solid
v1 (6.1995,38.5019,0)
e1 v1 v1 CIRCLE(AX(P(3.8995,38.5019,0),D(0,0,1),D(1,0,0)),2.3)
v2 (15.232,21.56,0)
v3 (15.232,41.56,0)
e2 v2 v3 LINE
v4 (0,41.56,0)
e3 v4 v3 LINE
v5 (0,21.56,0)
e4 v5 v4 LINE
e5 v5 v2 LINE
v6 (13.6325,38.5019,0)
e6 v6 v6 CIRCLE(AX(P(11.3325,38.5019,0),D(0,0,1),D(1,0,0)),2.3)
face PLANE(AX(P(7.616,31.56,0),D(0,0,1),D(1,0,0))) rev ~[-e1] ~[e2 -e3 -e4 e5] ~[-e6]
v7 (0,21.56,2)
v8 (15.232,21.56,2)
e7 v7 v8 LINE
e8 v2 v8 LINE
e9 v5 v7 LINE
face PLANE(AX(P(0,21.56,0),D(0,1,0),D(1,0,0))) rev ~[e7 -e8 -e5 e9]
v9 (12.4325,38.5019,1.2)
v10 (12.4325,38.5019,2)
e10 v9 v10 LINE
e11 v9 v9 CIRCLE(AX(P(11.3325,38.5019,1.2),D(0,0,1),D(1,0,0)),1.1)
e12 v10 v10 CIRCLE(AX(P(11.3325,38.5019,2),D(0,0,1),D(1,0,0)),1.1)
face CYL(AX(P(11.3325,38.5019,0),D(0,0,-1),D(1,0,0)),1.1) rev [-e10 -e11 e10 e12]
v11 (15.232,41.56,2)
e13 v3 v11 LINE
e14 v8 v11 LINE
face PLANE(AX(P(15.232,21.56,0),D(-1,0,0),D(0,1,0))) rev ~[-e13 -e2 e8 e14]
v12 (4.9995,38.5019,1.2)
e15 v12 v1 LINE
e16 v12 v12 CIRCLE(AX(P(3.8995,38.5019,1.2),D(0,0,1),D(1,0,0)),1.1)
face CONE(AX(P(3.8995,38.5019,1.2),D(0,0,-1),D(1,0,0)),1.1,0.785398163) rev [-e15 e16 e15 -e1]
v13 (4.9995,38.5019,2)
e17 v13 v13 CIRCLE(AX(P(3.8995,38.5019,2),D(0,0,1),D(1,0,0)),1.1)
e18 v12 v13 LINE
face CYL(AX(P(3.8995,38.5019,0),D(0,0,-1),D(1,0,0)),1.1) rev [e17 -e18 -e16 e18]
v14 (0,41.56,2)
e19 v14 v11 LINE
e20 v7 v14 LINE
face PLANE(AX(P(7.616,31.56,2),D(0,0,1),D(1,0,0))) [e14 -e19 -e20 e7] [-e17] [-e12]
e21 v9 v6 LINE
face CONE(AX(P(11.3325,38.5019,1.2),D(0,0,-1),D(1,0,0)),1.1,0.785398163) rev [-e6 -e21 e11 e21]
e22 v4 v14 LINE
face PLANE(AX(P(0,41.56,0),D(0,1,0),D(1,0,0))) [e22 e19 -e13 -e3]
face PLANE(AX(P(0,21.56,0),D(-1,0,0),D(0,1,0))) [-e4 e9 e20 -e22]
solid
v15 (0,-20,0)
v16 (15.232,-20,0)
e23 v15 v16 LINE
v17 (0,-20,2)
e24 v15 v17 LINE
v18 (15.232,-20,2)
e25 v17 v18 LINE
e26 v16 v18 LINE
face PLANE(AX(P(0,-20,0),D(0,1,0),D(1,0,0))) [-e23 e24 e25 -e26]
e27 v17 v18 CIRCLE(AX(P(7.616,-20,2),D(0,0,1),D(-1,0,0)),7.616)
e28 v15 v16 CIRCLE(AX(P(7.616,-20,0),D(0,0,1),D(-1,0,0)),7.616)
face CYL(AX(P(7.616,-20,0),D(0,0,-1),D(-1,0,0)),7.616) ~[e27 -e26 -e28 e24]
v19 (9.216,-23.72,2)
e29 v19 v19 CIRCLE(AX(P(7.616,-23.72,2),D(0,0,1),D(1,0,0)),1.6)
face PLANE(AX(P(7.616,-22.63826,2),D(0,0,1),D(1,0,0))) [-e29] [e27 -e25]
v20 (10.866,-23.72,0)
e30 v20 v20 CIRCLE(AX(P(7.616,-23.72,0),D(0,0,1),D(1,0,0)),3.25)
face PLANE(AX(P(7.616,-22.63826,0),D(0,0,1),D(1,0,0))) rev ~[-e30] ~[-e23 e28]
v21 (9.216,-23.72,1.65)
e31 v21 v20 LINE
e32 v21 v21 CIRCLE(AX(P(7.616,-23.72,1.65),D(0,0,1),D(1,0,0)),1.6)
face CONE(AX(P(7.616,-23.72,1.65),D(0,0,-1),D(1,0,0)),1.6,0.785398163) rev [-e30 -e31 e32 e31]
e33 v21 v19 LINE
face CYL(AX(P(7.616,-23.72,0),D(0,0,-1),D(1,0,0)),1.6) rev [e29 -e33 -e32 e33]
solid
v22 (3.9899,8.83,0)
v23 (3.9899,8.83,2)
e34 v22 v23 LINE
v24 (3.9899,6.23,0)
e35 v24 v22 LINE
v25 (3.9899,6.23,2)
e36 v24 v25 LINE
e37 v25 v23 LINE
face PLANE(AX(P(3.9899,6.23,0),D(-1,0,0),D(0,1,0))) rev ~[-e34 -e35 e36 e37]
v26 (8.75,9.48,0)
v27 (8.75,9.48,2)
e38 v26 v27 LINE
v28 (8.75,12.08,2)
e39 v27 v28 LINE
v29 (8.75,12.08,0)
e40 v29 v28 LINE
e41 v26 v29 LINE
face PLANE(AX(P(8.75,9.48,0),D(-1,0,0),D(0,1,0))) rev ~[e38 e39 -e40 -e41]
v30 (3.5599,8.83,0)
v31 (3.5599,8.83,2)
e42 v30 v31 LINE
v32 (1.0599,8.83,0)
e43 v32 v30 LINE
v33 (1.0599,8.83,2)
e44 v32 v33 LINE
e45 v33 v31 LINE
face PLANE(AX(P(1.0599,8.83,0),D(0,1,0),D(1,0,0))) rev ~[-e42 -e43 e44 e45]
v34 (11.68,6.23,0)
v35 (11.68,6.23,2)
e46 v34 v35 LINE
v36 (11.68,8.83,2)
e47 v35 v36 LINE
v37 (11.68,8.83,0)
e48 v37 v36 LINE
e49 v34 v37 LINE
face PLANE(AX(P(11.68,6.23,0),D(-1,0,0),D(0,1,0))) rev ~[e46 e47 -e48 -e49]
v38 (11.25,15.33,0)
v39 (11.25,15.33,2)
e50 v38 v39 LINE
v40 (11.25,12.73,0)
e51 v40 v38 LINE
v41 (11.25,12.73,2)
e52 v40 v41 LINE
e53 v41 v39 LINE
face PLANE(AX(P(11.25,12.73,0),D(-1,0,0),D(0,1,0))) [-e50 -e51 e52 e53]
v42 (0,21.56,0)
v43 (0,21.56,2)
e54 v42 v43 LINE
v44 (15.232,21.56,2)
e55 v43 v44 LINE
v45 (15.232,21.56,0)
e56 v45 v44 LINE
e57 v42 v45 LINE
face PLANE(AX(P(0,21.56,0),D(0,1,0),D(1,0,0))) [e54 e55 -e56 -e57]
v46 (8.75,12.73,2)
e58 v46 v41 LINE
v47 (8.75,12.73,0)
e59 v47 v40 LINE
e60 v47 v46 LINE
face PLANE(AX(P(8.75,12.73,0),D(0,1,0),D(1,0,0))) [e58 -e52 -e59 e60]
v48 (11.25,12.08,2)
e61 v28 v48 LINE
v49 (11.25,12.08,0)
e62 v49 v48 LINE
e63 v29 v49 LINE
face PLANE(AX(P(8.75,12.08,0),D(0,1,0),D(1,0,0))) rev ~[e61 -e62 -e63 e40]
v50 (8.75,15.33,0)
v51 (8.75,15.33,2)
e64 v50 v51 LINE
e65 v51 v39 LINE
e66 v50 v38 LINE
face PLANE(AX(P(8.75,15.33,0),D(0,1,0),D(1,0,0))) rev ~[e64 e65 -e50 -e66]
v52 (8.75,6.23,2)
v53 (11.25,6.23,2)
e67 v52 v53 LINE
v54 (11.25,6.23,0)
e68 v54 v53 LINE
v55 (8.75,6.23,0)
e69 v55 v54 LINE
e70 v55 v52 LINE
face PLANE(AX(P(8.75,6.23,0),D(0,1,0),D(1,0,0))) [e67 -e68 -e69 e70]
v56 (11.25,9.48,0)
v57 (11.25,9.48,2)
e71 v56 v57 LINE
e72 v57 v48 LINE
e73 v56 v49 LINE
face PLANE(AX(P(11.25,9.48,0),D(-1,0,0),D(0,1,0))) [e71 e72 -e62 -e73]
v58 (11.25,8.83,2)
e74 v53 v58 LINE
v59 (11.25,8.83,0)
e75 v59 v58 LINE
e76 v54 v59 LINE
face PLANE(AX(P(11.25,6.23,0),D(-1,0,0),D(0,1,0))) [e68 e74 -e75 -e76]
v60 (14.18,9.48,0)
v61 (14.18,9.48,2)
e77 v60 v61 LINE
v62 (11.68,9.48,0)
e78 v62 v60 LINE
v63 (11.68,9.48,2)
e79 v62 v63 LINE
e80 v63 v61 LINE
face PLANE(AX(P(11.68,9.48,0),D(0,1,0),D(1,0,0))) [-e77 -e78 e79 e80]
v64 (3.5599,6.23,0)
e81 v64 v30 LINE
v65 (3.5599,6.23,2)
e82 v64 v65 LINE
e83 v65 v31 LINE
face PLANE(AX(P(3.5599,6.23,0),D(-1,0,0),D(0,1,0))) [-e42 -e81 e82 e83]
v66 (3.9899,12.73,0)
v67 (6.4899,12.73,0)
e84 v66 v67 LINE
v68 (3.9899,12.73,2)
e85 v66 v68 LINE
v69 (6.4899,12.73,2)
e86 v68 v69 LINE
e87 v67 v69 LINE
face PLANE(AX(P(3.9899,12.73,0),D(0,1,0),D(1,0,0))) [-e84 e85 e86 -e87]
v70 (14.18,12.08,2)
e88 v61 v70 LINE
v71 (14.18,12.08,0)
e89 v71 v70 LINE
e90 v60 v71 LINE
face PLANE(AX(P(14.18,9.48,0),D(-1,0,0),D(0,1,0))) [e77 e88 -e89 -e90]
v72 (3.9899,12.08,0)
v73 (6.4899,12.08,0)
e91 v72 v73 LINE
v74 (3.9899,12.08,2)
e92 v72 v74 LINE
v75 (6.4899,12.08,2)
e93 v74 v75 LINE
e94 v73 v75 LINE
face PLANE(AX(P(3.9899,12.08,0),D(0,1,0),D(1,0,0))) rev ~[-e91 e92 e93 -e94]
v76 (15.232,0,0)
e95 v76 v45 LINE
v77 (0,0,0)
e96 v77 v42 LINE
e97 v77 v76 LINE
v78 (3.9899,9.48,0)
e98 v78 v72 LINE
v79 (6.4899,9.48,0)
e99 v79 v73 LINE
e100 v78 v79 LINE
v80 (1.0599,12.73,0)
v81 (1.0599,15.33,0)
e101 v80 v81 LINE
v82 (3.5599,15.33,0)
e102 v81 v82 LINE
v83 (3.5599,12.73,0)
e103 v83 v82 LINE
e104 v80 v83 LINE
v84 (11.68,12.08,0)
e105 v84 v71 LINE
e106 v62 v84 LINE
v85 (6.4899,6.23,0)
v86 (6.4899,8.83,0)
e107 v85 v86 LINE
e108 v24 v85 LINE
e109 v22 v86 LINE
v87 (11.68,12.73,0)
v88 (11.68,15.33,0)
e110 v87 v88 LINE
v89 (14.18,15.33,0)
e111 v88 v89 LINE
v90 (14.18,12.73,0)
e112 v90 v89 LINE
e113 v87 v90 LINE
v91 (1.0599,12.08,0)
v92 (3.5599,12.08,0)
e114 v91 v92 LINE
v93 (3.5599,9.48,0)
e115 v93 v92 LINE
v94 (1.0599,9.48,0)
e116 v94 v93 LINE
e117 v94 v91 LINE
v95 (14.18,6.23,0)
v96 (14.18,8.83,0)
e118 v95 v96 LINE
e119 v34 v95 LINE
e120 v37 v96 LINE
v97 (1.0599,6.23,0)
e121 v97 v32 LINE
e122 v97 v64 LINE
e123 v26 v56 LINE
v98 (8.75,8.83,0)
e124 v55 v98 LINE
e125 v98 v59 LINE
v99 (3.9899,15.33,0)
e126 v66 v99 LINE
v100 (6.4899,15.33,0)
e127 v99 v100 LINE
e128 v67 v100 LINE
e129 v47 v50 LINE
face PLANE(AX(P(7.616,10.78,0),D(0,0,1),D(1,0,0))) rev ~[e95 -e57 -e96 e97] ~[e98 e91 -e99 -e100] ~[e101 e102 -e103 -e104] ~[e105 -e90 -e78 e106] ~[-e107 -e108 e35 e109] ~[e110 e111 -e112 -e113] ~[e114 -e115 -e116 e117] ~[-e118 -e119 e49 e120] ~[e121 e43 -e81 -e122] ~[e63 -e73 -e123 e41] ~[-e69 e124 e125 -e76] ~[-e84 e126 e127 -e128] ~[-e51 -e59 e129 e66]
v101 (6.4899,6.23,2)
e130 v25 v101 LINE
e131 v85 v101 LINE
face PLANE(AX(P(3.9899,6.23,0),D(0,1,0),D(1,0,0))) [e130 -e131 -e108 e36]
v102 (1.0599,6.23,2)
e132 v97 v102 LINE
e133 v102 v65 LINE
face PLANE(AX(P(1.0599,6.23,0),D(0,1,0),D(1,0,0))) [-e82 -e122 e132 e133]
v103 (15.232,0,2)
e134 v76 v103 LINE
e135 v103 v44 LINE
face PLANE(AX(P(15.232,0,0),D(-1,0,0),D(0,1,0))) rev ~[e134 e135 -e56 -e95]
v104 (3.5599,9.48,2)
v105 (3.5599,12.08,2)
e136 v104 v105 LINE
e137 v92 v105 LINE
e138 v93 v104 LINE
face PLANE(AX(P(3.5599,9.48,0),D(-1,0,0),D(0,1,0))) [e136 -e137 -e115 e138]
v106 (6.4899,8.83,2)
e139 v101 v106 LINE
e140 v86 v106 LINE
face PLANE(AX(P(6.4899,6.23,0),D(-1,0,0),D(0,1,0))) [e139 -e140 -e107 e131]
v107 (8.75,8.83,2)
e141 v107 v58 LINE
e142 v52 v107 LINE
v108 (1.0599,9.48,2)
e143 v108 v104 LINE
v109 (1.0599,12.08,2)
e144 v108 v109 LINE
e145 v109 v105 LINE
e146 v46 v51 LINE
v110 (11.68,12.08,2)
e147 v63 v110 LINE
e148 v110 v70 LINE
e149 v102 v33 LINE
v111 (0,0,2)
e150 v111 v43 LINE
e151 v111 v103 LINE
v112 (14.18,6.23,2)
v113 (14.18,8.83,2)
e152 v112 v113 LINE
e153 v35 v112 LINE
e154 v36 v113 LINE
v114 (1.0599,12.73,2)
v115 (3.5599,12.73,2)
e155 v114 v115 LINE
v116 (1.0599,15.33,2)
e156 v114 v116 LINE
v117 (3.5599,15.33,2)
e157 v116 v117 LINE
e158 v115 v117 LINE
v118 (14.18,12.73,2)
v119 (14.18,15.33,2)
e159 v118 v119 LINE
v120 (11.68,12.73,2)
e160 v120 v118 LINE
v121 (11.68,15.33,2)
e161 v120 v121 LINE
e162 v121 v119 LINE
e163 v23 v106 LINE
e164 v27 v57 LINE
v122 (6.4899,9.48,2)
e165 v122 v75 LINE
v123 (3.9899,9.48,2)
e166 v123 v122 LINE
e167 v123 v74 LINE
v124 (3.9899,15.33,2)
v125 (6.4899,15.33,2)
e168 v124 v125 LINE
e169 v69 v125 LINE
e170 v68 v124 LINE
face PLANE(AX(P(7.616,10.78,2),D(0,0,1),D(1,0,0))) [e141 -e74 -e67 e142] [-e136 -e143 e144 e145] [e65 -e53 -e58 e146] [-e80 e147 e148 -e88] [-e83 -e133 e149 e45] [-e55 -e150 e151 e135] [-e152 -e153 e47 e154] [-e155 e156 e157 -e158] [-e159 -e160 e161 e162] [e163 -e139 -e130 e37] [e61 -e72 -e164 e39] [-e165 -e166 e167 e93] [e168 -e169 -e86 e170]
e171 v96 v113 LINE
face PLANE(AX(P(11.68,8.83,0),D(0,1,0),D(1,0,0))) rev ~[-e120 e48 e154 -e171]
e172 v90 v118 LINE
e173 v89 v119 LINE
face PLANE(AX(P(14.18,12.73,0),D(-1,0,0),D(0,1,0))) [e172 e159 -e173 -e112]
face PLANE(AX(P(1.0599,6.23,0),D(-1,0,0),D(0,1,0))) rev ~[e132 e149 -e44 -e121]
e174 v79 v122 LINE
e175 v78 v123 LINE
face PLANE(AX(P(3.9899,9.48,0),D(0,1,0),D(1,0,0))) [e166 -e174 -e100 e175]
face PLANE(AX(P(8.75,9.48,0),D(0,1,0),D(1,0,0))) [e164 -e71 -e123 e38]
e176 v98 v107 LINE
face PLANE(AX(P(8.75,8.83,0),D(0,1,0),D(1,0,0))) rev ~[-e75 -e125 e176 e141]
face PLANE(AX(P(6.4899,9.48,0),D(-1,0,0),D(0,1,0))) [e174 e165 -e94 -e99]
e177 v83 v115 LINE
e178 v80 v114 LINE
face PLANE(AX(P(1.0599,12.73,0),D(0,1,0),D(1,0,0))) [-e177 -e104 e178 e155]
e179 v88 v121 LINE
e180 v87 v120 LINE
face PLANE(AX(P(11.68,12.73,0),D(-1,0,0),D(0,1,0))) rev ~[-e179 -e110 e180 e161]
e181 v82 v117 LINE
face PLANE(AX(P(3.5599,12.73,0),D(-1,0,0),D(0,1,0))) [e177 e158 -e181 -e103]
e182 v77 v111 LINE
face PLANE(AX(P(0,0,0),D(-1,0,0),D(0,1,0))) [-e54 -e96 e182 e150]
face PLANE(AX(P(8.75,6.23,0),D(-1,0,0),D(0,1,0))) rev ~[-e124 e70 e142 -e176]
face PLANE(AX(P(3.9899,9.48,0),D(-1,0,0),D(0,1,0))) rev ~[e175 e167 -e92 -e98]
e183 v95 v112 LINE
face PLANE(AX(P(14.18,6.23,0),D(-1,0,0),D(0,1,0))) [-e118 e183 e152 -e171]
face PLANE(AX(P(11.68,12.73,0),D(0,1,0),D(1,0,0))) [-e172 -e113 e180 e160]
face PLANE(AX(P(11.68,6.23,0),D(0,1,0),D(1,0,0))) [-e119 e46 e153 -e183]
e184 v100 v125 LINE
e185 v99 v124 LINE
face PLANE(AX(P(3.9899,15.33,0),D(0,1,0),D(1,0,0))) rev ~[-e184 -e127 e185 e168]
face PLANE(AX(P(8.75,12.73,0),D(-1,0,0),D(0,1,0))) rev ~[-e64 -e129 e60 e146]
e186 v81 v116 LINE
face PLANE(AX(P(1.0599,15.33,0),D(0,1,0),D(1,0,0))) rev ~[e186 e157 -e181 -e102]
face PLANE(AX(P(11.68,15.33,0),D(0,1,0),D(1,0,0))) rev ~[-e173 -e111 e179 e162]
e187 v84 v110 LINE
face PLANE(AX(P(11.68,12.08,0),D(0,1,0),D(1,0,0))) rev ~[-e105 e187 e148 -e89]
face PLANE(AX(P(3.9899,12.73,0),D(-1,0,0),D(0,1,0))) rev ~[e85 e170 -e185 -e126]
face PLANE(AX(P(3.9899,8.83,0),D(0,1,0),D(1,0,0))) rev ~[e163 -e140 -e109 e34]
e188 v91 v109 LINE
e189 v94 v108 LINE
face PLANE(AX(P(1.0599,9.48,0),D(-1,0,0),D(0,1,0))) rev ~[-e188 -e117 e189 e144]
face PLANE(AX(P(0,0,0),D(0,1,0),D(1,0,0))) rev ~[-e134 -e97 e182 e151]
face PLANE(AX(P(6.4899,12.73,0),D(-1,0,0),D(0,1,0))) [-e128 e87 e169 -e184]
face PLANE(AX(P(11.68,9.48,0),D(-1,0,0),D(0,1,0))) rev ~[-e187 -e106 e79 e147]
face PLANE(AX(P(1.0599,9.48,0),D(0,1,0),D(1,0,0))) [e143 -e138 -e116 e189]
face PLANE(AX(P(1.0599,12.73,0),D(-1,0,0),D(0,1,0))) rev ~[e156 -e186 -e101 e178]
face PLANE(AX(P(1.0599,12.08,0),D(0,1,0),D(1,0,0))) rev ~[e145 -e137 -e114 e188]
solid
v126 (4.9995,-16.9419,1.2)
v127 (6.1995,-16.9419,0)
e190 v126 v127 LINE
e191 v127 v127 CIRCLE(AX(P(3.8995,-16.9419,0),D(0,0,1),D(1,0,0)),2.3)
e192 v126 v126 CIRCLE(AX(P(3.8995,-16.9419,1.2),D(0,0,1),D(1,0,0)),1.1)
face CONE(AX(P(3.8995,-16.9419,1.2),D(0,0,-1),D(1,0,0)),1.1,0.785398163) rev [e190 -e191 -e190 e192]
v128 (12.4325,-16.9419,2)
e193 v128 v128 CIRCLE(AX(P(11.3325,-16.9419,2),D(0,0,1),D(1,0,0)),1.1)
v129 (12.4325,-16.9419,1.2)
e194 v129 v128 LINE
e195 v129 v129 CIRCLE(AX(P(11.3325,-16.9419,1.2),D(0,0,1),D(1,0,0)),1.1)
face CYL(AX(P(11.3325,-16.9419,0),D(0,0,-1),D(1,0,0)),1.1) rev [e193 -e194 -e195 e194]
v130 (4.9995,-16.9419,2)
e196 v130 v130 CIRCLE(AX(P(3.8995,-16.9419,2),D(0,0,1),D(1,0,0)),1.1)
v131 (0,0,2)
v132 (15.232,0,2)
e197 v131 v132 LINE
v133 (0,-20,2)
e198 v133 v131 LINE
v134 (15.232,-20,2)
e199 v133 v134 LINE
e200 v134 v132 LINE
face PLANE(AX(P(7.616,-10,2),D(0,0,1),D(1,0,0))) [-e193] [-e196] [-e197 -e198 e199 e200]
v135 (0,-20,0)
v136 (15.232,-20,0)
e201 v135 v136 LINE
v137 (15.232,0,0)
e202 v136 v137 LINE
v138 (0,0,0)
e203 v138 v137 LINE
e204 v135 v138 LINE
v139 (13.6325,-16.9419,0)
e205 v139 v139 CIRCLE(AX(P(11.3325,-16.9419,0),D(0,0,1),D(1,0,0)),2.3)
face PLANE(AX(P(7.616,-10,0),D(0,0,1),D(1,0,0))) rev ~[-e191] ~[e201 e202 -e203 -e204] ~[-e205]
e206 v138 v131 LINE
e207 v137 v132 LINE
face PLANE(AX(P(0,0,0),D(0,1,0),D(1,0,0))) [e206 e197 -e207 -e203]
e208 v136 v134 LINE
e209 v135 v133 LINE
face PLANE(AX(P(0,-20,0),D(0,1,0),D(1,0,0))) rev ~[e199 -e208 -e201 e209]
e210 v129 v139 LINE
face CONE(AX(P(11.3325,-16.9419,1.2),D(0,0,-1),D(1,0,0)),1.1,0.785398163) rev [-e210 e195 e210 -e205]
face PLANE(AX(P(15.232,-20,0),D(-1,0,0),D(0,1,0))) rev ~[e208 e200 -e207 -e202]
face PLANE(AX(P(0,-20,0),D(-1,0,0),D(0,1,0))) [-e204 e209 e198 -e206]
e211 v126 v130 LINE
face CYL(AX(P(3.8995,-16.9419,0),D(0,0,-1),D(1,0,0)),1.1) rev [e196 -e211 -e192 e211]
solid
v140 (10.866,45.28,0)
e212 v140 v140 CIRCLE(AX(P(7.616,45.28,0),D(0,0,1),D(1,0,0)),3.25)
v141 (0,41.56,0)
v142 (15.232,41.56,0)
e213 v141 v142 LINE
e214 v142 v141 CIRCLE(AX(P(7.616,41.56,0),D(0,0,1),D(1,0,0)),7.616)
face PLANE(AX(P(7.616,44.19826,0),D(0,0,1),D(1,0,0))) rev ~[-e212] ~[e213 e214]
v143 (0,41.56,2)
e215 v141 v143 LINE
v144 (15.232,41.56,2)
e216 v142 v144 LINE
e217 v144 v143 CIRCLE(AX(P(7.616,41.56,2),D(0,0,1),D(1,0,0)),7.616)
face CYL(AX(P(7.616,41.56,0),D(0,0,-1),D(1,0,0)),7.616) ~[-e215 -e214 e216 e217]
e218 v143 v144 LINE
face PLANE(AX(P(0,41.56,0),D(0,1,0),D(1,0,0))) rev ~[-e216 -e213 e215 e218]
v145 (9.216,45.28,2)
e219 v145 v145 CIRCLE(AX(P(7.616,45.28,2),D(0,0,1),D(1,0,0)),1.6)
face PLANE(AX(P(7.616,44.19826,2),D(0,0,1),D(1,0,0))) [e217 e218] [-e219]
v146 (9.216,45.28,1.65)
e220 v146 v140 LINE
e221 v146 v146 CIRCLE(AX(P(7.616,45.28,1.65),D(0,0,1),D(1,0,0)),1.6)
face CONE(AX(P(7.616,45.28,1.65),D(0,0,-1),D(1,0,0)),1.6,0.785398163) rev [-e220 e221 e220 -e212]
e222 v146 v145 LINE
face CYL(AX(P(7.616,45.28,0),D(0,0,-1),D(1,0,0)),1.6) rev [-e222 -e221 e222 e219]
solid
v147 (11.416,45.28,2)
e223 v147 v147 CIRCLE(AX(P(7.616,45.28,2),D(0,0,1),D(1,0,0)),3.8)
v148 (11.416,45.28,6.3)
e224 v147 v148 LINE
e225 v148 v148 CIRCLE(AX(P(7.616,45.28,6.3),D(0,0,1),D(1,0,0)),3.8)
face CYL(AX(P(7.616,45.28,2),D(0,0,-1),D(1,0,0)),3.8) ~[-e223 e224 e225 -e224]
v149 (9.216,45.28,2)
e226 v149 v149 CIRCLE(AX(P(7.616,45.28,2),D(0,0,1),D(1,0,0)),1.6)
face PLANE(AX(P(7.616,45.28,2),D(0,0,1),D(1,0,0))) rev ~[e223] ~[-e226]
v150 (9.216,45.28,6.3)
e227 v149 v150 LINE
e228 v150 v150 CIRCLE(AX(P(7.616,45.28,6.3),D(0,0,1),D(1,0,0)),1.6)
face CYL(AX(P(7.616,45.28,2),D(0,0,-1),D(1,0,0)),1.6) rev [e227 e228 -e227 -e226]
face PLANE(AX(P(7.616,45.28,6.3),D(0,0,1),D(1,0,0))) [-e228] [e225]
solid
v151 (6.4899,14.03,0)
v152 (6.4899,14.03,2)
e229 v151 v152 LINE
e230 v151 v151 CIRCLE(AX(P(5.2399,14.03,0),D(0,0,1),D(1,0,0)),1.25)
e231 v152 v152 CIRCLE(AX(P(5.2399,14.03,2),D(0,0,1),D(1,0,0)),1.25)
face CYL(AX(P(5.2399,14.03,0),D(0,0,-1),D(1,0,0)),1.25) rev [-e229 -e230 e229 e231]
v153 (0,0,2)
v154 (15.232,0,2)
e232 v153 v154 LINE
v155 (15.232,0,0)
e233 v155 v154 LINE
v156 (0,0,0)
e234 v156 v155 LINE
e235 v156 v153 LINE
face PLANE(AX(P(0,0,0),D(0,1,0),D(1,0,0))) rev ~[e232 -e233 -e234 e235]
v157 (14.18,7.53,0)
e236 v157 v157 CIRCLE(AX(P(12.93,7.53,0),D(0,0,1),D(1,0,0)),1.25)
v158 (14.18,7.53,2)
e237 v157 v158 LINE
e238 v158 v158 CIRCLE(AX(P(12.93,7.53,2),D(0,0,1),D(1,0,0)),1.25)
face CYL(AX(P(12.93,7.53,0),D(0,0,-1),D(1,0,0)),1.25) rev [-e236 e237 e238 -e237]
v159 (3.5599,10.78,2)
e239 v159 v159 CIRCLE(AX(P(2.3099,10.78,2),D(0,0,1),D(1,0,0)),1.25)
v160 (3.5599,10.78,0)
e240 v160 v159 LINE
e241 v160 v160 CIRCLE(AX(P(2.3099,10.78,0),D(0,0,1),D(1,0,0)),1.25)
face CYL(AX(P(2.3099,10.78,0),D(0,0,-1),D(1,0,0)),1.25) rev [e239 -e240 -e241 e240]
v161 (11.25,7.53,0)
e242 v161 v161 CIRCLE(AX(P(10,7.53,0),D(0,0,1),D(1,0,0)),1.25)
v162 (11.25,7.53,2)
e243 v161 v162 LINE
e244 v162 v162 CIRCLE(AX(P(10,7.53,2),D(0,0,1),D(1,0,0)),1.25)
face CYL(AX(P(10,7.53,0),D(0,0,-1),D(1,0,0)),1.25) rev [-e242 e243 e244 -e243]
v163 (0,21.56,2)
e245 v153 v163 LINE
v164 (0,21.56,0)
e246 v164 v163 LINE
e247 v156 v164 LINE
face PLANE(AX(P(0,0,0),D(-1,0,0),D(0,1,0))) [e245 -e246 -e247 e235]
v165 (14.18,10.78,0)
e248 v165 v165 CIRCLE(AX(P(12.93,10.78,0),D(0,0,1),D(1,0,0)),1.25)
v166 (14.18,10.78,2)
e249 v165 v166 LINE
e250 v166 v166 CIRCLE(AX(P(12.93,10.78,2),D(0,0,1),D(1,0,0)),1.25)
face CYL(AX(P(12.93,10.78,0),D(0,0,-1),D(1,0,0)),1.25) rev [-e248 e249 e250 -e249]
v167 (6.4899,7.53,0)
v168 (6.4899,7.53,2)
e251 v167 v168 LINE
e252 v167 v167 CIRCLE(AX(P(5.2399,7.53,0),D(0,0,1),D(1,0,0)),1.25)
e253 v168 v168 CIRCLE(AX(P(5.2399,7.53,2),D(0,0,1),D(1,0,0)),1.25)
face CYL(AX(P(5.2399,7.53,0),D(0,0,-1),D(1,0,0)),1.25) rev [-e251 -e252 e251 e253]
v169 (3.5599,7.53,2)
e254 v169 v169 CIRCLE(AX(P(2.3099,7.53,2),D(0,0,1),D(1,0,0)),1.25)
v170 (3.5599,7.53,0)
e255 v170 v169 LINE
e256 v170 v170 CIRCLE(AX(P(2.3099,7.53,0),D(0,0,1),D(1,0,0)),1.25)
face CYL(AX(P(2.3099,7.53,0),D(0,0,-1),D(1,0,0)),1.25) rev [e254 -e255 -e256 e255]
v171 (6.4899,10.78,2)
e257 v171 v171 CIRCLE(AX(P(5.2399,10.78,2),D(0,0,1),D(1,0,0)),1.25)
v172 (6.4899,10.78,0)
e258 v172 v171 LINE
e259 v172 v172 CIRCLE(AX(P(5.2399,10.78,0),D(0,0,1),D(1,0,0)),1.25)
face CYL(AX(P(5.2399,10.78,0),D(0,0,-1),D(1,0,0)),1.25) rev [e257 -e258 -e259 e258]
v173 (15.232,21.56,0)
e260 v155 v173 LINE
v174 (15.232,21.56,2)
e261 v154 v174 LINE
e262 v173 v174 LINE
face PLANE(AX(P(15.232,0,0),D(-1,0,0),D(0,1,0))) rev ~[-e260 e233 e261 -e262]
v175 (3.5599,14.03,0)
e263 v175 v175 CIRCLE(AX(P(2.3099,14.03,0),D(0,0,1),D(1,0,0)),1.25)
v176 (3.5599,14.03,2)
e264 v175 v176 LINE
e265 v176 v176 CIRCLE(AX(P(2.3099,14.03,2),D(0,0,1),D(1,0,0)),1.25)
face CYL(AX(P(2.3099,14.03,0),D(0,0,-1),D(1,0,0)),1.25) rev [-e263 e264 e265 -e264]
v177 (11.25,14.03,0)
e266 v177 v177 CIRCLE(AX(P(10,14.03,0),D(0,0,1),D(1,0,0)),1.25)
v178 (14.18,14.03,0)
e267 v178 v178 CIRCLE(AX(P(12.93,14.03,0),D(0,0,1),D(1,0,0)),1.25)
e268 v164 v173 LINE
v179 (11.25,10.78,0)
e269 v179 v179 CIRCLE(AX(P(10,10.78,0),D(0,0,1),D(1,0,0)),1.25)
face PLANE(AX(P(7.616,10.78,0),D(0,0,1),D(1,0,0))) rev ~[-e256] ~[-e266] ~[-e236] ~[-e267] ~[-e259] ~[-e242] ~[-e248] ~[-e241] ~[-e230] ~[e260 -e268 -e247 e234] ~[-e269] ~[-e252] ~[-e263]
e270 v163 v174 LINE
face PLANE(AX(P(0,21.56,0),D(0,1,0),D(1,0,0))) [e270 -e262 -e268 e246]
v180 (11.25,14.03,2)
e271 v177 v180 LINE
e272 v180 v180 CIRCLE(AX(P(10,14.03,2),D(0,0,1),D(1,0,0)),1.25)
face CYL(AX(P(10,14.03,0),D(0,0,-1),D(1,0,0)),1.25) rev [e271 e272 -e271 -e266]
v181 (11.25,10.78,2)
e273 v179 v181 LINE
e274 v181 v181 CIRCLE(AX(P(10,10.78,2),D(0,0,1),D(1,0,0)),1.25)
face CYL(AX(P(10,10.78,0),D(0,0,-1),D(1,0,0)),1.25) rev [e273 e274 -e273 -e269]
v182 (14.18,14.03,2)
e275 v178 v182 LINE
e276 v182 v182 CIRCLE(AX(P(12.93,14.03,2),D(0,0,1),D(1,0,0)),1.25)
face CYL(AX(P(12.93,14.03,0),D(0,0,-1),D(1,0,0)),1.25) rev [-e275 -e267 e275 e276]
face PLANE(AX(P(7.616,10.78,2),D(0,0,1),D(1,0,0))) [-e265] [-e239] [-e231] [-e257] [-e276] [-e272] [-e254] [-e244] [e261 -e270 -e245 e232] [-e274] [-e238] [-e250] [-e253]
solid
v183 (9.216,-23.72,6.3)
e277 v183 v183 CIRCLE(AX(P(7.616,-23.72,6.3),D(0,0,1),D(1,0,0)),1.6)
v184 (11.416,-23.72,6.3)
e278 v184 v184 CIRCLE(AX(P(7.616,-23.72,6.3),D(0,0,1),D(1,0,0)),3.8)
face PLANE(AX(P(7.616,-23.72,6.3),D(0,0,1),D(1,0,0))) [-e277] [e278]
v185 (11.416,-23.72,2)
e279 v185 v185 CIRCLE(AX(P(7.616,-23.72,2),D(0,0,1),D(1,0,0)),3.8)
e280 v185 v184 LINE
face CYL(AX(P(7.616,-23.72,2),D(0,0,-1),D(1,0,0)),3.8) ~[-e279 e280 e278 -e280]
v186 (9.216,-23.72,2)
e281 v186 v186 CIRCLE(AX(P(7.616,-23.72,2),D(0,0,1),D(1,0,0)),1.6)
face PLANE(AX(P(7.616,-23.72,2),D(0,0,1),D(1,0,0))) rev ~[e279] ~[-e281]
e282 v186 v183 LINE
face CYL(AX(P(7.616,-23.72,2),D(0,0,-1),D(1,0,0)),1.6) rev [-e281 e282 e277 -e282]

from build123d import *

# Parameters (mm, degrees)
SKETCH004_W     = 15.232
SKETCH004_H     = 21.56
SKETCH004_R     = 1.25
PAD002_DEPTH    = 2
SKETCH001_W     = 15.232
SKETCH001_H     = 20
SKETCH001_R     = 1.1
PAD001_DEPTH    = 2
CHAMFER002_SIZE = 1.2
SKETCH002_R     = 1.6
PAD_DEPTH       = 2
CHAMFER_SIZE    = 1.65
CHAMFER003_SIZE = 1.65
SKETCH005_W     = 15.232
SKETCH005_H     = 21.56
SKETCH005_W_2   = 2.5
SKETCH005_H_2   = 2.6
PAD003_DEPTH    = 2
SKETCH_R        = 3.8
SKETCH_R_2      = 1.6
PAD004_DEPTH    = 4.3


with BuildPart() as pad002:
    # Sketch004 → Pad002 (new body)
    with BuildSketch(Plane.XY):
        with Locations((7.616, 10.78)):
            Rectangle(SKETCH004_W, SKETCH004_H)
        with Locations((2.3099, 7.53)):
            Circle(SKETCH004_R, mode=Mode.SUBTRACT)
        with Locations((2.3099, 14.03)):
            Circle(SKETCH004_R, mode=Mode.SUBTRACT)
        with Locations((2.3099, 10.78)):
            Circle(SKETCH004_R, mode=Mode.SUBTRACT)
        with Locations((5.2399, 14.03)):
            Circle(SKETCH004_R, mode=Mode.SUBTRACT)
        with Locations((5.2399, 10.78)):
            Circle(SKETCH004_R, mode=Mode.SUBTRACT)
        with Locations((5.2399, 7.53)):
            Circle(SKETCH004_R, mode=Mode.SUBTRACT)
        with Locations((10, 14.03)):
            Circle(SKETCH004_R, mode=Mode.SUBTRACT)
        with Locations((10, 10.78)):
            Circle(SKETCH004_R, mode=Mode.SUBTRACT)
        with Locations((10, 7.53)):
            Circle(SKETCH004_R, mode=Mode.SUBTRACT)
        with Locations((12.93, 7.53)):
            Circle(SKETCH004_R, mode=Mode.SUBTRACT)
        with Locations((12.93, 10.78)):
            Circle(SKETCH004_R, mode=Mode.SUBTRACT)
        with Locations((12.93, 14.03)):
            Circle(SKETCH004_R, mode=Mode.SUBTRACT)
    extrude(amount=PAD002_DEPTH)


with BuildPart() as chamfer002:
    # Sketch001 → Pad001 (new body)
    with BuildSketch(Plane.XY):
        with Locations((7.616, -10)):
            Rectangle(SKETCH001_W, SKETCH001_H)
        with Locations((3.8995, -16.9419)):
            Circle(SKETCH001_R, mode=Mode.SUBTRACT)
        with Locations((11.3325, -16.9419)):
            Circle(SKETCH001_R, mode=Mode.SUBTRACT)
        with Locations((7.616, 31.56)):
            Rectangle(SKETCH001_W, SKETCH001_H)
        with Locations((3.8995, 38.5019)):
            Circle(SKETCH001_R, mode=Mode.SUBTRACT)
        with Locations((11.3325, 38.5019)):
            Circle(SKETCH001_R, mode=Mode.SUBTRACT)
    extrude(amount=PAD001_DEPTH)

    # Chamfer002
    chamfer002_edges = [chamfer002.edges().sort_by_distance(p)[0] for p in [
        (10.2325, -16.9419, 0),
        (2.7995, -16.9419, 0),
        (10.2325, 38.5019, 0),
        (2.7995, 38.5019, 0),
    ]]
    chamfer(chamfer002_edges, length=CHAMFER002_SIZE)


with BuildPart() as chamfer003:
    # Sketch002 → Pad (new body)
    with BuildSketch(Plane.XY):
        with BuildLine():
            ThreePointArc((15.232, 41.56), (7.616, 49.176), (0, 41.56))
            Line((0, 41.56), (15.232, 41.56))
        make_face()
        with Locations((7.616, 45.28)):
            Circle(SKETCH002_R, mode=Mode.SUBTRACT)
        with BuildLine():
            ThreePointArc((0, -20), (7.616, -27.616), (15.232, -20))
            Line((0, -20), (15.232, -20))
        make_face()
        with Locations((7.616, -23.72)):
            Circle(SKETCH002_R, mode=Mode.SUBTRACT)
    extrude(amount=PAD_DEPTH)

    # Chamfer
    chamfer_edges = [chamfer003.edges().sort_by_distance(p)[0] for p in [
        (6.016, 45.28, 0),
    ]]
    chamfer(chamfer_edges, length=CHAMFER_SIZE)

    # Chamfer003
    chamfer003_edges = [chamfer003.edges().sort_by_distance(p)[0] for p in [
        (6.016, -23.72, 0),
    ]]
    chamfer(chamfer003_edges, length=CHAMFER003_SIZE)


with BuildPart() as pad003:
    # Sketch005 → Pad003 (new body)
    with BuildSketch(Plane.XY):
        with Locations((7.616, 10.78)):
            Rectangle(SKETCH005_W, SKETCH005_H)
        with Locations((2.3099, 10.78)):
            Rectangle(SKETCH005_W_2, SKETCH005_H_2, mode=Mode.SUBTRACT)
        with Locations((2.3099, 14.03)):
            Rectangle(SKETCH005_W_2, SKETCH005_H_2, mode=Mode.SUBTRACT)
        with Locations((2.3099, 7.53)):
            Rectangle(SKETCH005_W_2, SKETCH005_H_2, mode=Mode.SUBTRACT)
        with Locations((5.2399, 14.03)):
            Rectangle(SKETCH005_W_2, SKETCH005_H_2, mode=Mode.SUBTRACT)
        with Locations((5.2399, 10.78)):
            Rectangle(SKETCH005_W_2, SKETCH005_H_2, mode=Mode.SUBTRACT)
        with Locations((5.2399, 7.53)):
            Rectangle(SKETCH005_W_2, SKETCH005_H_2, mode=Mode.SUBTRACT)
        with Locations((10, 14.03)):
            Rectangle(SKETCH005_W_2, SKETCH005_H_2, mode=Mode.SUBTRACT)
        with Locations((12.93, 14.03)):
            Rectangle(SKETCH005_W_2, SKETCH005_H_2, mode=Mode.SUBTRACT)
        with Locations((10, 10.78)):
            Rectangle(SKETCH005_W_2, SKETCH005_H_2, mode=Mode.SUBTRACT)
        with Locations((12.93, 10.78)):
            Rectangle(SKETCH005_W_2, SKETCH005_H_2, mode=Mode.SUBTRACT)
        with Locations((10, 7.53)):
            Rectangle(SKETCH005_W_2, SKETCH005_H_2, mode=Mode.SUBTRACT)
        with Locations((12.93, 7.53)):
            Rectangle(SKETCH005_W_2, SKETCH005_H_2, mode=Mode.SUBTRACT)
    extrude(amount=PAD003_DEPTH)


with BuildPart() as pad004:
    # Sketch → Pad004 (new body)
    with BuildSketch(Plane.XY.offset(2)):
        with Locations((7.616, 45.28)):
            Circle(SKETCH_R)
        with Locations((7.616, 45.28)):
            Circle(SKETCH_R_2, mode=Mode.SUBTRACT)
        with Locations((7.616, -23.72)):
            Circle(SKETCH_R)
        with Locations((7.616, -23.72)):
            Circle(SKETCH_R_2, mode=Mode.SUBTRACT)
    extrude(amount=PAD004_DEPTH)


solid = Compound([pad002.part, chamfer002.part, chamfer003.part, pad003.part, pad004.part])
